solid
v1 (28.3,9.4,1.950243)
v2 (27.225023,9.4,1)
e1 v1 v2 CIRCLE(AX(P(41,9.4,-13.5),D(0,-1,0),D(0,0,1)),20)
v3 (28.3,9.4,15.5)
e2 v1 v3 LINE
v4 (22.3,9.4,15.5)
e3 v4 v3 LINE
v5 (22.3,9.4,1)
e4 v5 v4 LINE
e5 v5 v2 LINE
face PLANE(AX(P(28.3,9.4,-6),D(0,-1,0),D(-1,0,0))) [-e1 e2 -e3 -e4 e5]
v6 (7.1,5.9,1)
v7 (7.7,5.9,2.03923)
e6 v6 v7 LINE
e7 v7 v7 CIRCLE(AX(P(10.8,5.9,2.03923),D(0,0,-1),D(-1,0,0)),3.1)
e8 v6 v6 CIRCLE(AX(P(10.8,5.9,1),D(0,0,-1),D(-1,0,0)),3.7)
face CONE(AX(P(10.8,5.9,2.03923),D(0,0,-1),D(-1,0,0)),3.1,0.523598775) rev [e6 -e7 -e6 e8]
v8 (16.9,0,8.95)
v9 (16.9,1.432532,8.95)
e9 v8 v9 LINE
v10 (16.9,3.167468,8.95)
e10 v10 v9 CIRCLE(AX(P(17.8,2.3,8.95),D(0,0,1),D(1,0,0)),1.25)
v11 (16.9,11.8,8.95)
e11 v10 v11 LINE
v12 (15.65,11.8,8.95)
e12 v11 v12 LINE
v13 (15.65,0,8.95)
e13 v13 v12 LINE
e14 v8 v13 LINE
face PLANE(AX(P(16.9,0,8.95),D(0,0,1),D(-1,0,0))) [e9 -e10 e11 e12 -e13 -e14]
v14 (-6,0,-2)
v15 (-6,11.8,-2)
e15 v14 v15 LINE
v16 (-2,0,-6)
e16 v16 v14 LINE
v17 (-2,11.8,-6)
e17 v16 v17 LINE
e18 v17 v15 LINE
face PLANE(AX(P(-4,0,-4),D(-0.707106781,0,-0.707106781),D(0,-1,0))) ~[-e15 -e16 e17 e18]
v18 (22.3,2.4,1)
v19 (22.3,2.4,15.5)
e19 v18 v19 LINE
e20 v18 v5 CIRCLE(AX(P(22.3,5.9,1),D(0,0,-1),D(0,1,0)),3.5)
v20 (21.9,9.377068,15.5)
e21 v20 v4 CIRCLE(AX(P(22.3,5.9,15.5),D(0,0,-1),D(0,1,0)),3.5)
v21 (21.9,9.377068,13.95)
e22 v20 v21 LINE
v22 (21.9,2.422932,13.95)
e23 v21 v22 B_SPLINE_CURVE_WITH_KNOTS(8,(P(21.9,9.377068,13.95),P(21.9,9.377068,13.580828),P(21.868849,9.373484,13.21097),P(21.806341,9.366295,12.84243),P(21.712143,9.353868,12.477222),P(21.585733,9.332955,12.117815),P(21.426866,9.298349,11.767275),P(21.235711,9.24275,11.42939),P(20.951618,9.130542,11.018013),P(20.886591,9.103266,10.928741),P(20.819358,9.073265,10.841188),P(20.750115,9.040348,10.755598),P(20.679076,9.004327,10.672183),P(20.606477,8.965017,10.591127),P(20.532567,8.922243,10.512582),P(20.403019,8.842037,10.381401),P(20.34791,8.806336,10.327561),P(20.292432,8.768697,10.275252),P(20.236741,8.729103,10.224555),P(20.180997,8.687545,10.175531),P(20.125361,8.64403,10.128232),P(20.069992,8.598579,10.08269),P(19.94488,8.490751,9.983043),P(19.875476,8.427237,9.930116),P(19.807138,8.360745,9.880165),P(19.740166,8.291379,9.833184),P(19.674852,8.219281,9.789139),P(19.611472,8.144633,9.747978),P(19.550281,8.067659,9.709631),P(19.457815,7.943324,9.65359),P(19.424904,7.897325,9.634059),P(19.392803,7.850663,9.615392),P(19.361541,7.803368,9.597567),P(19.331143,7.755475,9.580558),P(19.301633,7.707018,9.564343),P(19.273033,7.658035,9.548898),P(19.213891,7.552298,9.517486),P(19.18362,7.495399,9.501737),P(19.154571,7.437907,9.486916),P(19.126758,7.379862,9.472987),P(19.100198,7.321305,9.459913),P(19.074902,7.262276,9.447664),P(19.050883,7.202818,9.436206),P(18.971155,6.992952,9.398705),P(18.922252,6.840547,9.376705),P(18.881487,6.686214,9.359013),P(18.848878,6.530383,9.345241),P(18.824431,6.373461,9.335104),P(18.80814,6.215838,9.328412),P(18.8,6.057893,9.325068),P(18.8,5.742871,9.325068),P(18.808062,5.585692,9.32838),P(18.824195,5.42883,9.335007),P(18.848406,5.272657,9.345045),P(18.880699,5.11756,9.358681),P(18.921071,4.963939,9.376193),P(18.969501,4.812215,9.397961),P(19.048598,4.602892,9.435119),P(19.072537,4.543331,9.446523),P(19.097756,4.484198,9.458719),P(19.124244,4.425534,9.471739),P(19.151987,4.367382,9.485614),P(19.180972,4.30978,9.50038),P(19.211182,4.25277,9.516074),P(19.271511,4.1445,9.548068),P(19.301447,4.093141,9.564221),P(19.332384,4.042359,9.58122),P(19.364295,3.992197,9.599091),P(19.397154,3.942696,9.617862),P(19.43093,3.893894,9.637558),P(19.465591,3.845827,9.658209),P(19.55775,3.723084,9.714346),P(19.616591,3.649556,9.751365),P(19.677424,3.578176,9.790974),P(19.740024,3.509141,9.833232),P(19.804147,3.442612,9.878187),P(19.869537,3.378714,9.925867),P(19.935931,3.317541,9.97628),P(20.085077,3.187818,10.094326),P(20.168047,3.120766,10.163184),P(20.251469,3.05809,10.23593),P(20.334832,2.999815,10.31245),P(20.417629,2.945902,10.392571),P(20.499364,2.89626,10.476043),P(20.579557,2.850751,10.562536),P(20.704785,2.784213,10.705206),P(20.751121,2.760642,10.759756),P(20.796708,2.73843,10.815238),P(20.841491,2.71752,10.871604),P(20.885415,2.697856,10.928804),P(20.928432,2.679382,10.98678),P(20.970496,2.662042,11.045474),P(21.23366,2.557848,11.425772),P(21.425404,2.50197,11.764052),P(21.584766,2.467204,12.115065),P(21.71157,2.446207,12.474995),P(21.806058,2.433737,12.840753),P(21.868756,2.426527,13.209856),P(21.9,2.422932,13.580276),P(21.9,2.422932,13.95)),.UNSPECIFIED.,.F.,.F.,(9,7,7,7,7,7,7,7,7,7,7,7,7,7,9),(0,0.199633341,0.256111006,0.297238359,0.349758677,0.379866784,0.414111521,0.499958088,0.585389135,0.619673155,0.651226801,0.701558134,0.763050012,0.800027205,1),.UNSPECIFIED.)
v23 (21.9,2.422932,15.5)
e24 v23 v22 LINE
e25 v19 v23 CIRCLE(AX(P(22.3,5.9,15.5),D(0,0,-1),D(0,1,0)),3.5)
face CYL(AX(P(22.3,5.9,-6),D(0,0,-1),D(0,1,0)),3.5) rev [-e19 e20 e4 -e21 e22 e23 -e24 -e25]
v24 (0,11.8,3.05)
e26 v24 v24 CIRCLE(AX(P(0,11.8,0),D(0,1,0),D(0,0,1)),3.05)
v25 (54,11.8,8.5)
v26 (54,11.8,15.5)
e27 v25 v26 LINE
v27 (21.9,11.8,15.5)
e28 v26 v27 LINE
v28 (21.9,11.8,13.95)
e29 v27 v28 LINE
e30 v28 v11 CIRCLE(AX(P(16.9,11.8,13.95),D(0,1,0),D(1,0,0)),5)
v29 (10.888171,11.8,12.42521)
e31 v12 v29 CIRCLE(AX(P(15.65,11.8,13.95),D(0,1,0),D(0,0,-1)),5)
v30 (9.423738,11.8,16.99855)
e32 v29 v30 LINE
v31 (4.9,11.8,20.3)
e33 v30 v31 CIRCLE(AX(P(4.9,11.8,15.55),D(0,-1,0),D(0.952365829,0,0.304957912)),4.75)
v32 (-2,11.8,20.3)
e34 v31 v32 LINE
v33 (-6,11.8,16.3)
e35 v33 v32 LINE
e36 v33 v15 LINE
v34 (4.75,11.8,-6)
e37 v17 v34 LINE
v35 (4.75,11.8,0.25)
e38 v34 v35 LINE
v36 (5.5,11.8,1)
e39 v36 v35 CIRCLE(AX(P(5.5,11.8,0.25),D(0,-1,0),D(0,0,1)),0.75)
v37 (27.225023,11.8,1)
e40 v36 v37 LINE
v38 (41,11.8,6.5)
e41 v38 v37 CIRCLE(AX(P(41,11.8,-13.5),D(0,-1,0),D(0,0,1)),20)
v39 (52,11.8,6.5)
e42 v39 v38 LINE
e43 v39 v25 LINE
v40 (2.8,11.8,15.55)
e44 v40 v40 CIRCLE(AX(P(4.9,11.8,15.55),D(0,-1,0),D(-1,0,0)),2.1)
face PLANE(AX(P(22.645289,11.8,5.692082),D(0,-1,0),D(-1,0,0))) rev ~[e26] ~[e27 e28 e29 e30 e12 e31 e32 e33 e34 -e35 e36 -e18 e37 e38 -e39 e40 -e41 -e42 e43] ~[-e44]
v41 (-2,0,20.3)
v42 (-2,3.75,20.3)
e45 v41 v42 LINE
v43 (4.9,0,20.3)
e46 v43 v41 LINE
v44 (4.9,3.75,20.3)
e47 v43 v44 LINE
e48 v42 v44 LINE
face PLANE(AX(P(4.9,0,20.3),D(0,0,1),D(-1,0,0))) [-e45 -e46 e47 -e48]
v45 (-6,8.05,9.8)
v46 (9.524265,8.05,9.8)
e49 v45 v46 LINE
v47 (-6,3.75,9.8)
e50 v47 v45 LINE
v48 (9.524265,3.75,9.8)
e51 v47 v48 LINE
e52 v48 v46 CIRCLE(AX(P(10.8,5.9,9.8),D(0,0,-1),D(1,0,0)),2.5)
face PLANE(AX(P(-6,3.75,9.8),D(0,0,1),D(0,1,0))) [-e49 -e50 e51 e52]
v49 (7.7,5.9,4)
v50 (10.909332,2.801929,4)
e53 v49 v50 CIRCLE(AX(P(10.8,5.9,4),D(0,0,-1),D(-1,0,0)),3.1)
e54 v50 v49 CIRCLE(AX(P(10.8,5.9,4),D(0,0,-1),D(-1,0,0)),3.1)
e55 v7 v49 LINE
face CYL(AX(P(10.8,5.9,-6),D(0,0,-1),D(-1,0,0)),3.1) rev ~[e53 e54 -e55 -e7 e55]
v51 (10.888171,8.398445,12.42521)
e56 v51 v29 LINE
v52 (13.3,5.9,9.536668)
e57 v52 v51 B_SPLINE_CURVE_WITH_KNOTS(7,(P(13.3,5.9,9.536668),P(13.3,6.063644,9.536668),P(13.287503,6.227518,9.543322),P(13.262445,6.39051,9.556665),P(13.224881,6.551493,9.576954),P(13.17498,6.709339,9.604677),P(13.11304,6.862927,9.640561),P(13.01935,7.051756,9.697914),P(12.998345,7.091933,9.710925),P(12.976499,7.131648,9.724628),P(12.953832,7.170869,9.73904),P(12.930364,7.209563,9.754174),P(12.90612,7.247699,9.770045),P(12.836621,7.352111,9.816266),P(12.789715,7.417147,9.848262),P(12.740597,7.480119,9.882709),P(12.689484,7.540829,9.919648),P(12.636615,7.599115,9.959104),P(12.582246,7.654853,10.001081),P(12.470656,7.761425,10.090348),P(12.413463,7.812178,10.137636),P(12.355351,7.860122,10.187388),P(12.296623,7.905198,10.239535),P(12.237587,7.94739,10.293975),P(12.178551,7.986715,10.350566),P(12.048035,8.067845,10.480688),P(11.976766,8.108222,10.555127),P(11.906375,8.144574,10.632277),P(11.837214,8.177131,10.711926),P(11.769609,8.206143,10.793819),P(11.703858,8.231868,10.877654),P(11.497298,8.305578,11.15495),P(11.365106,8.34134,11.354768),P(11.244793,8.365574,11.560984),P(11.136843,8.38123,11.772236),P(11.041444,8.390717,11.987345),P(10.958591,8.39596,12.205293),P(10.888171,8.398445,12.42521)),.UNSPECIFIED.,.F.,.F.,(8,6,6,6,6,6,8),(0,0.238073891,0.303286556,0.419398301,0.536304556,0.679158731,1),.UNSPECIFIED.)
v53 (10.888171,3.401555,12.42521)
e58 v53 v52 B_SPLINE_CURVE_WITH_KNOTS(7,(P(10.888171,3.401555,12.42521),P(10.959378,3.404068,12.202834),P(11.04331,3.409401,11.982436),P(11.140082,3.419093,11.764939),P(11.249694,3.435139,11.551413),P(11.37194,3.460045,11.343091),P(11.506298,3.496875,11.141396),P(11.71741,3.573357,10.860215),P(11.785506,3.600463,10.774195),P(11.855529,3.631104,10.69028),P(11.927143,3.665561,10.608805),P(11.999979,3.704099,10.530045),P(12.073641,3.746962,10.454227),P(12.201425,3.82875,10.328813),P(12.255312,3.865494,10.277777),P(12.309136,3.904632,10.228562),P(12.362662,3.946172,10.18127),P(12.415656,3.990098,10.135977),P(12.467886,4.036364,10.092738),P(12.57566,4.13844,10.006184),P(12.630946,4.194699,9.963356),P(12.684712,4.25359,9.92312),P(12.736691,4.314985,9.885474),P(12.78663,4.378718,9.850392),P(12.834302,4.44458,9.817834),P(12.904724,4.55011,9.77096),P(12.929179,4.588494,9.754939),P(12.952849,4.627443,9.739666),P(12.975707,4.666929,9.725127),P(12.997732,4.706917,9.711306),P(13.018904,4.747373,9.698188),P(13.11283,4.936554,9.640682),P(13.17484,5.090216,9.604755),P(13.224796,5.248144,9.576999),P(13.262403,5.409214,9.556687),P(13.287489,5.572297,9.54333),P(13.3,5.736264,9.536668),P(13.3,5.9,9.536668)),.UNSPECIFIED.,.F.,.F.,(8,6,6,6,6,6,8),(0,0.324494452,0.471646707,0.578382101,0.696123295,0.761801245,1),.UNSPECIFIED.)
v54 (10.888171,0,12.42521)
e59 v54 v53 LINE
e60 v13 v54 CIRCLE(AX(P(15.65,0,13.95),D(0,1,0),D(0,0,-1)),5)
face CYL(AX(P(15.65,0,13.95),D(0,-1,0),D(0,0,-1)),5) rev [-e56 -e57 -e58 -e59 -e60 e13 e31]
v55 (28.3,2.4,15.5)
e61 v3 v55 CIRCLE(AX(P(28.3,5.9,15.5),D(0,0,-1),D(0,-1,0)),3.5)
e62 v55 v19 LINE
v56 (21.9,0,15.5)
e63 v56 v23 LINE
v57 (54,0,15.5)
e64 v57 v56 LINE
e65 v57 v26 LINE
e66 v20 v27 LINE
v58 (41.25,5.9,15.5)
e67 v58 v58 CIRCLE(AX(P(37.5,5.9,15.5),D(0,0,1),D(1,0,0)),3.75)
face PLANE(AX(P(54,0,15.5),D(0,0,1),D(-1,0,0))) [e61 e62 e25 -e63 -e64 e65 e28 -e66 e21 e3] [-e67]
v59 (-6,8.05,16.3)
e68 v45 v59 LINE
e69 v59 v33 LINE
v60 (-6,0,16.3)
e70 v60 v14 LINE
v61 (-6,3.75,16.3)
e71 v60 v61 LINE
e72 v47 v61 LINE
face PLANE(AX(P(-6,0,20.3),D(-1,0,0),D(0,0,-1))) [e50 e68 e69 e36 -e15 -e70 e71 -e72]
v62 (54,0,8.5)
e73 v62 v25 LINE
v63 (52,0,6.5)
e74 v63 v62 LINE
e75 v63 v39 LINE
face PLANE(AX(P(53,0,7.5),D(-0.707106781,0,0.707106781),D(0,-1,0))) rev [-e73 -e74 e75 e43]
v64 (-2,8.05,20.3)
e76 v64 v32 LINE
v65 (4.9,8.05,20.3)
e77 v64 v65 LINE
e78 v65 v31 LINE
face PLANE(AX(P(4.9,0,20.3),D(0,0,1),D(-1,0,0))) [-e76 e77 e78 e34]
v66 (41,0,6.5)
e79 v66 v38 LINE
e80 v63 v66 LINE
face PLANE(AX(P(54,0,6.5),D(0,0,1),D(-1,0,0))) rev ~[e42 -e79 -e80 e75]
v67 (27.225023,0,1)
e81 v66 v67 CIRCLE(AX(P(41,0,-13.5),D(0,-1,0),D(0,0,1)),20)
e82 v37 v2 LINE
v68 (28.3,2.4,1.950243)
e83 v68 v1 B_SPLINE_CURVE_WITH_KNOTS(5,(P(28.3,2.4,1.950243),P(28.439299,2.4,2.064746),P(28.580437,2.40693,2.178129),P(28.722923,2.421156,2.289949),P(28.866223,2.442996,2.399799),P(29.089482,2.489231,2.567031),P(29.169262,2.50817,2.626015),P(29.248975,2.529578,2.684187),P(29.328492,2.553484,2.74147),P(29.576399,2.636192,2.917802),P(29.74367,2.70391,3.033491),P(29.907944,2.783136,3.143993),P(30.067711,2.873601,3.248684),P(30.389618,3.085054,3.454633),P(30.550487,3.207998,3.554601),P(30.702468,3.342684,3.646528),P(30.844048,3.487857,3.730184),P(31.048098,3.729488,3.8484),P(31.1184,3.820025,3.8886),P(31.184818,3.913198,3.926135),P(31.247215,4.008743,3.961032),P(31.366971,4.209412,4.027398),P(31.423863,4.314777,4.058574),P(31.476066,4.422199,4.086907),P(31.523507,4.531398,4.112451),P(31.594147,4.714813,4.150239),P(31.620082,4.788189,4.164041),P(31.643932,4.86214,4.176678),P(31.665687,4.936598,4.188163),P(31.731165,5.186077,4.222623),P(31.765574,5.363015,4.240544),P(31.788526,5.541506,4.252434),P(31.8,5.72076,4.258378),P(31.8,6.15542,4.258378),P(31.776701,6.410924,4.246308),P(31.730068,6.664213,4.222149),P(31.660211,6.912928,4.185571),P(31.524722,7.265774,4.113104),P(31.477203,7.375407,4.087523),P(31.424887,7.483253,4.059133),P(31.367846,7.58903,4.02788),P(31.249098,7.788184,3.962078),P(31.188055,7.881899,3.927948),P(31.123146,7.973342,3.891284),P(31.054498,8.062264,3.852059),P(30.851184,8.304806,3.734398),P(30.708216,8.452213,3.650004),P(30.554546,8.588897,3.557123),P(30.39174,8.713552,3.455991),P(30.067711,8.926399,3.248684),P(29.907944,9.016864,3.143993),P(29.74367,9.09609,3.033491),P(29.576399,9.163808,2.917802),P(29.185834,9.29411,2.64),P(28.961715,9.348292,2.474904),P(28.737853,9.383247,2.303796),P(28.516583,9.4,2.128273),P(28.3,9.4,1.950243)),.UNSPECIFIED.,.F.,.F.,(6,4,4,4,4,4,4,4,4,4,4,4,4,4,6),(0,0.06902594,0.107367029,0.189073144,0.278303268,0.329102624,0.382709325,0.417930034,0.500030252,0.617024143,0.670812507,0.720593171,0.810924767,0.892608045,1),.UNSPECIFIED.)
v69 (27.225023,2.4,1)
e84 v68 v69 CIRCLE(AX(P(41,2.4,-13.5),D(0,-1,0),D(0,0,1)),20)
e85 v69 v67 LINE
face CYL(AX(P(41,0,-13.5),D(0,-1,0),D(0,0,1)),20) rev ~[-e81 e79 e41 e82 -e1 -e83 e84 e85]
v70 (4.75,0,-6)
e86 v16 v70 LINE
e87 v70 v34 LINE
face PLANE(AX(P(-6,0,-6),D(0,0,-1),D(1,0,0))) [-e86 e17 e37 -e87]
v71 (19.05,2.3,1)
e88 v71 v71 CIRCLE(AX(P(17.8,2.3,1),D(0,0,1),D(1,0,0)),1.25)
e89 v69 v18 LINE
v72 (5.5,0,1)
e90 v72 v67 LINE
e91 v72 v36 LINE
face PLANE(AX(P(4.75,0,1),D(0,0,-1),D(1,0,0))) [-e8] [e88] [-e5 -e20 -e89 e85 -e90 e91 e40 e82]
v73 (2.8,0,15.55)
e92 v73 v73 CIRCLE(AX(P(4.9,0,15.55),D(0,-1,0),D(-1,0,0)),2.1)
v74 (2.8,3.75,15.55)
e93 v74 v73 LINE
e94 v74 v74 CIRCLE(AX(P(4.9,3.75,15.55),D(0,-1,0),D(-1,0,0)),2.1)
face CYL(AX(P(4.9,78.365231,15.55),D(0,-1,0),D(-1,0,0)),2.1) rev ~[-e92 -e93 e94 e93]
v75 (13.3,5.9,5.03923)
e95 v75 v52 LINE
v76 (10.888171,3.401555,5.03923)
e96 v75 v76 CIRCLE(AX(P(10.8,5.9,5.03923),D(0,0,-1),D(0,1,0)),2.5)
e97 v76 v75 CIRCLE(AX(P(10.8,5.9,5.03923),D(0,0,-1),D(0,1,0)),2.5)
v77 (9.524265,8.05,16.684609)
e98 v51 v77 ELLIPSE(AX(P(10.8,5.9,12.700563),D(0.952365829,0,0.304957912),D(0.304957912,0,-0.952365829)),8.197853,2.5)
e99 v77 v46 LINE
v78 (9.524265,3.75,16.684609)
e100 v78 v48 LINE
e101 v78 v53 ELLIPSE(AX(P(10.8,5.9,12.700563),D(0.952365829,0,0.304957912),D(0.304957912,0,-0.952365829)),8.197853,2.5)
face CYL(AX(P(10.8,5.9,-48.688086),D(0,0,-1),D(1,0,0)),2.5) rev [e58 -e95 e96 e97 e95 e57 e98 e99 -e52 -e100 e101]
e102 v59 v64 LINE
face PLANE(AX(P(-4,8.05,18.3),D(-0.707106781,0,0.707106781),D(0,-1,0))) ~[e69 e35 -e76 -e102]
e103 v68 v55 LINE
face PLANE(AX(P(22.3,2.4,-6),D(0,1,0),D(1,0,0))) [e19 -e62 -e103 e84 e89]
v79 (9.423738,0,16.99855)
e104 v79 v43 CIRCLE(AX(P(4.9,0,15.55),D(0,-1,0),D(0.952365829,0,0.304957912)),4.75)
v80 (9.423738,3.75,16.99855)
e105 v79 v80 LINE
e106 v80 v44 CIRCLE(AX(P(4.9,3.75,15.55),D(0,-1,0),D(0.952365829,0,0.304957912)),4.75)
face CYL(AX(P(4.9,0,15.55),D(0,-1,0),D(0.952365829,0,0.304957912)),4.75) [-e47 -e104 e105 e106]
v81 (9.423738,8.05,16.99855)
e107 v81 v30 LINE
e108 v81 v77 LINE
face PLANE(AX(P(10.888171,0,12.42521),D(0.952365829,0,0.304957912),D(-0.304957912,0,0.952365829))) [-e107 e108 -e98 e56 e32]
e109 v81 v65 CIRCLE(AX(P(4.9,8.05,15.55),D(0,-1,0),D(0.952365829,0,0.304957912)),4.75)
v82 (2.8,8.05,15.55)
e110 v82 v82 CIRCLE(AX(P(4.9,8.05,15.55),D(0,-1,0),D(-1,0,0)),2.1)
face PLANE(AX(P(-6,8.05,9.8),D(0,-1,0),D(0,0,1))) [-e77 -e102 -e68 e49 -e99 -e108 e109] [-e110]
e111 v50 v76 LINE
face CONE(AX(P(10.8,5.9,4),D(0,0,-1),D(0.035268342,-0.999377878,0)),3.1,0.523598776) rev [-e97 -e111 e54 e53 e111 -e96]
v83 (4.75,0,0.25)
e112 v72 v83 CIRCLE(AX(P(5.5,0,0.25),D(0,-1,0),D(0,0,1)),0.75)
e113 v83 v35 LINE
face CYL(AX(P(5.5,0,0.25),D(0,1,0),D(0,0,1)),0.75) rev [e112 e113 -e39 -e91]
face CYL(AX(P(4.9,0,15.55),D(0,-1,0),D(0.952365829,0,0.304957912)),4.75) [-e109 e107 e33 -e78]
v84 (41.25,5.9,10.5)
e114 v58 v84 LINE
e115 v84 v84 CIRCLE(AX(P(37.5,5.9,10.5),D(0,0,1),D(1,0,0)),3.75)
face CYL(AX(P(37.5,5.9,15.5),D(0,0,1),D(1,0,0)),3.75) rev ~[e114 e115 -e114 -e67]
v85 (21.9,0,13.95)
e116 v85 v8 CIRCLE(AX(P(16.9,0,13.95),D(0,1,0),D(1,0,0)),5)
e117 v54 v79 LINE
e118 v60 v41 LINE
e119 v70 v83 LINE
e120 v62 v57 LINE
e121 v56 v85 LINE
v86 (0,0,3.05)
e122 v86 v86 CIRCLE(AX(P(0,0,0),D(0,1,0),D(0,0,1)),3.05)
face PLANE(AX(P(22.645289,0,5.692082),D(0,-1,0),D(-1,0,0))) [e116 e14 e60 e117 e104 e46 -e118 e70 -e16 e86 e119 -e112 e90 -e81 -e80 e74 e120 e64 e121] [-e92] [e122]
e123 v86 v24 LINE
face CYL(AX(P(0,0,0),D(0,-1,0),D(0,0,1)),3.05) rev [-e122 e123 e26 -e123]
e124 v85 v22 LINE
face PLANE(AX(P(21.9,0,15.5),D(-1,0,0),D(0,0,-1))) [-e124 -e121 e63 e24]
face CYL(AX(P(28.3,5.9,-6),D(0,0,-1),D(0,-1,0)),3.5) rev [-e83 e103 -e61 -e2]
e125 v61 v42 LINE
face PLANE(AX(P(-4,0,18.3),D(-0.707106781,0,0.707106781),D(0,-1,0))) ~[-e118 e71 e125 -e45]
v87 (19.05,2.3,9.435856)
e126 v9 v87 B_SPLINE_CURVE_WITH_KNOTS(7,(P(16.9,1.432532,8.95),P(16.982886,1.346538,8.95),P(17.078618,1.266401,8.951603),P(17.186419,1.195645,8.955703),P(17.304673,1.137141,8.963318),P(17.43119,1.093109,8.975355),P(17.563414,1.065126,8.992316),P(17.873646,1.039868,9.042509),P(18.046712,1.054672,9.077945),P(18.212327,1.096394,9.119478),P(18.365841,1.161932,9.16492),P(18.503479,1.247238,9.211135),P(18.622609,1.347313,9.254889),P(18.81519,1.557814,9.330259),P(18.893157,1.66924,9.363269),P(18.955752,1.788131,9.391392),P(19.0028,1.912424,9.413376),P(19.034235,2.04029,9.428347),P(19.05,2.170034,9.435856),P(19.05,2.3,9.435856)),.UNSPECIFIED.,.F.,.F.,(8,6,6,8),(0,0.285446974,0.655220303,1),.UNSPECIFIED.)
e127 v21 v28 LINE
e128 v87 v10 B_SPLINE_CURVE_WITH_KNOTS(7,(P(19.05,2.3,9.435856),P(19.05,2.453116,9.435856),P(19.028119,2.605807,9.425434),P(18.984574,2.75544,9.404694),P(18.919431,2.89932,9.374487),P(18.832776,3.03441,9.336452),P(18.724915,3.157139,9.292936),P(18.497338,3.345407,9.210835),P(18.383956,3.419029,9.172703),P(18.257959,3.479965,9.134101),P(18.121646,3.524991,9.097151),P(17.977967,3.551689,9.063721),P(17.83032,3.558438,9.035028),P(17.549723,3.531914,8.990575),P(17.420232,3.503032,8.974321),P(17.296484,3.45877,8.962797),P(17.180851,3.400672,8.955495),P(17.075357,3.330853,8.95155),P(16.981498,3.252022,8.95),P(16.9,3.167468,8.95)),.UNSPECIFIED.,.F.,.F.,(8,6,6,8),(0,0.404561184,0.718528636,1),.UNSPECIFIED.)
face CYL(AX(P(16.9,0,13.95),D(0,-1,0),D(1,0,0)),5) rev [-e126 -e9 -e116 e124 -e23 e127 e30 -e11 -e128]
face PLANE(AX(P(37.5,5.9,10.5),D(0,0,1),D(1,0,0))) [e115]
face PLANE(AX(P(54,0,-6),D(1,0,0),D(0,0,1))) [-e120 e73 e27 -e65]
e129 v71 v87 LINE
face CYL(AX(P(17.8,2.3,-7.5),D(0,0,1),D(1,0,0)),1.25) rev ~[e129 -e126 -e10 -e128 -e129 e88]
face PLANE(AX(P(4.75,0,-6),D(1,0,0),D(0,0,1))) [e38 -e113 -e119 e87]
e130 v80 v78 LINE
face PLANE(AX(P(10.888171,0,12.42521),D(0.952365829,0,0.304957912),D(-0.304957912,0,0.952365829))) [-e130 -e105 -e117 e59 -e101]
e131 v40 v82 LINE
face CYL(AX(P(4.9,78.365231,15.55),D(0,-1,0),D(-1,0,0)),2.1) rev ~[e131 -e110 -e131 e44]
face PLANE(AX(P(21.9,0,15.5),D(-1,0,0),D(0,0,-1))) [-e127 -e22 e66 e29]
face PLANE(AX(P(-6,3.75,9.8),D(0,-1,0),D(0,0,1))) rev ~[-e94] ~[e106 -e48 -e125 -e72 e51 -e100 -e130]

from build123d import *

# Parameters (mm, degrees)
CROQUIS1_R                 = 1.5
CROQUIS1_R_2               = 3.05
SALIENTE_EXTRUIR1_DEPTH    = 11.8
TALADRO_ROSCADO_M51_D      = 4.2
CROQUIS2_W                 = 10.5
CROQUIS2_H                 = 4.3
CORTAR_EXTRUIR1_DEPTH      = 18
CORTAR_EXTRUIR6_DEPTH      = 58.488085722
CORTAR_EXTRUIR6_DEPTH_BACK = 58.488085722
CROQUIS13_R                = 2.5
CROQUIS27_R                = 3.1
CORTAR_EXTRUIR8_DEPTH      = 10
CROQUIS31_R                = 3.75
CORTAR_EXTRUIR9_DEPTH      = 5
CORTAR_EXTRUIR12_DEPTH     = 59.884038604
CHAFL_N2_SIZE              = 4
CHAFL_N3_SIZE              = 2
CORTAR_EXTRUIR17_DEPTH     = 62.212172011
CROQUIS46_W                = 28.049554897
CROQUIS46_H                = 7
CORTAR_EXTRUIR18_DEPTH     = 59.884038604
TALADRO_ROSCADO_M31_D      = 2.5
TALADRO_ROSCADO_M31_DEPTH  = 8.5
REDONDEO2_R                = 0.75
CHAFL_N5_SIZE              = 0.6
CHAFL_N5_SIZE2             = 1.039230485
CHAFL_N6_SIZE              = 4


with BuildPart() as part:
    # Croquis1 → Saliente-Extruir1 (new body)
    with BuildSketch(Plane(origin=(0, 0, 0), x_dir=(1, 0, 0), z_dir=(0, 1, 0))):
        with BuildLine():
            Line((15.65, -8.95), (16.9, -8.95))
            ThreePointArc((16.9, -8.95), (20.435533906, -10.414466094), (21.9, -13.95))
            Line((21.9, -13.95), (21.9, -15.5))
            Line((21.9, -15.5), (54, -15.5))
            Line((54, -15.5), (54, 6))
            Line((54, 6), (-6, 6))
            Line((-6, 6), (-6, -20.3))
            Line((-6, -20.3), (4.9, -20.3))
            ThreePointArc((4.9, -20.3), (7.700168487, -19.386868052), (9.423737687, -16.998550083))
            Line((9.423737687, -16.998550083), (10.888170856, -12.425210439))
            ThreePointArc((10.888170856, -12.425210439), (12.702454225, -9.911191525), (15.65, -8.95))
        make_face()
        with Locations((4.9, -15.55)):
            Circle(CROQUIS1_R, mode=Mode.SUBTRACT)
        Circle(CROQUIS1_R_2, mode=Mode.SUBTRACT)
    extrude(amount=SALIENTE_EXTRUIR1_DEPTH)

    # Taladro roscado M51 (through all)
    with Locations(Plane(origin=(0, 11.8, 0), x_dir=(1, 0, 0), z_dir=(0, 1, 0))):
        with Locations((4.9, -15.55)):
            Hole(TALADRO_ROSCADO_M51_D / 2)

    # Croquis2 → Cortar-Extruir1 (cut)
    with BuildSketch(Plane.ZY.offset(6)):
        with Locations((15.05, 5.9)):
            Rectangle(CROQUIS2_W, CROQUIS2_H)
    extrude(amount=-CORTAR_EXTRUIR1_DEPTH, mode=Mode.SUBTRACT)

    # Croquis13 → Cortar-Extruir6 (cut, two sides: drawn at the far end of the back side and taken through both)
    with BuildSketch(Plane.XY.offset(9.8).offset(-CORTAR_EXTRUIR6_DEPTH_BACK)):
        with Locations((10.8, 5.9)):
            Circle(CROQUIS13_R)
    extrude(amount=CORTAR_EXTRUIR6_DEPTH + CORTAR_EXTRUIR6_DEPTH_BACK, mode=Mode.SUBTRACT)

    # Croquis27 → Cortar-Extruir8 (cut)
    with BuildSketch(Plane(origin=(0, 0, -6), x_dir=(-1, 0, 0), z_dir=(0, 0, -1))):
        with Locations((-10.8, 5.9)):
            Circle(CROQUIS27_R)
    extrude(amount=-CORTAR_EXTRUIR8_DEPTH, mode=Mode.SUBTRACT)

    # Croquis31 → Cortar-Extruir9 (cut)
    with BuildSketch(Plane.XY.offset(15.5)):
        with Locations((37.5, 5.9)):
            Circle(CROQUIS31_R)
    extrude(amount=-CORTAR_EXTRUIR9_DEPTH, mode=Mode.SUBTRACT)

    # Croquis34 → Cortar-Extruir12 (cut, through all)
    with BuildSketch(Plane.XZ):
        with BuildLine():
            Line((54, 6.5), (41, 6.5))
            ThreePointArc((41, 6.5), (29.819660113, 3.083123952), (22.459503782, -6))
            Line((22.459503782, -6), (54, -6))
            Line((54, -6), (54, 6.5))
        make_face()
    extrude(amount=-CORTAR_EXTRUIR12_DEPTH, mode=Mode.SUBTRACT)

    # Chaflán2
    chafl_n2_edges = [part.edges().sort_by_distance(p)[0] for p in [
        (-6, 5.9, -6),
    ]]
    chamfer(chafl_n2_edges, length=CHAFL_N2_SIZE)

    # Chaflán3
    chafl_n3_edges = [part.edges().sort_by_distance(p)[0] for p in [
        (54, 5.9, 6.5),
    ]]
    chamfer(chafl_n3_edges, length=CHAFL_N3_SIZE)

    # Croquis35 → Cortar-Revolución1 (revolve, cut)
    with BuildSketch(Plane(origin=(0, 5.9, 0), x_dir=(-1, 0, 0), z_dir=(0, -1, 0))):
        Polygon((-13.9, -4), (-10.8, -9.369357503), (-10.8, -4), align=None)
    revolve(axis=Axis((10.8, 5.9, 4), (0, 0, -1)), mode=Mode.SUBTRACT)

    # Croquis45 → Cortar-Extruir17 (cut, through all)
    with BuildSketch(Plane(origin=(0, 0, -6), x_dir=(-1, 0, 0), z_dir=(0, 0, -1))):
        with BuildLine():
            Line((-22.3, 2.4), (-28.3, 2.4))
            ThreePointArc((-28.3, 2.4), (-31.8, 5.9), (-28.3, 9.4))
            Line((-28.3, 9.4), (-22.3, 9.4))
            ThreePointArc((-22.3, 9.4), (-18.8, 5.9), (-22.3, 2.4))
        make_face()
    extrude(amount=-CORTAR_EXTRUIR17_DEPTH, mode=Mode.SUBTRACT)

    # Croquis46 → Cortar-Extruir18 (cut, through all)
    with BuildSketch(Plane.XZ):
        with Locations((18.774777449, -2.5)):
            Rectangle(CROQUIS46_W, CROQUIS46_H)
    extrude(amount=-CORTAR_EXTRUIR18_DEPTH, mode=Mode.SUBTRACT)

    # Taladro roscado M31
    with Locations(Plane(origin=(0, 0, 1), x_dir=(-1, 0, 0), z_dir=(0, 0, -1))):
        with Locations((-17.8, 2.3)):
            Hole(TALADRO_ROSCADO_M31_D / 2, depth=TALADRO_ROSCADO_M31_DEPTH)

    # Redondeo2
    redondeo2_edges = [part.edges().sort_by_distance(p)[0] for p in [
        (4.75, 5.9, 1),
    ]]
    fillet(redondeo2_edges, radius=REDONDEO2_R)

    # Chaflán5
    chafl_n5_edges = [part.edges().sort_by_distance(p)[0] for p in [
        (13.9, 5.9, 1),
    ]]
    chafl_n5_side = [part.faces().sort_by_distance(p)[0] for p in [
        (15.082931418, 6.005477059, 1),
    ]]
    chamfer(chafl_n5_edges, length=CHAFL_N5_SIZE, length2=CHAFL_N5_SIZE2, reference=chafl_n5_side[0])

    # Chaflán6
    chafl_n6_edges = [part.edges().sort_by_distance(p)[0] for p in [
        (-6, 9.925, 20.3),
        (-6, 1.875, 20.3),
    ]]
    chamfer(chafl_n6_edges, length=CHAFL_N6_SIZE)


solid = part.part
